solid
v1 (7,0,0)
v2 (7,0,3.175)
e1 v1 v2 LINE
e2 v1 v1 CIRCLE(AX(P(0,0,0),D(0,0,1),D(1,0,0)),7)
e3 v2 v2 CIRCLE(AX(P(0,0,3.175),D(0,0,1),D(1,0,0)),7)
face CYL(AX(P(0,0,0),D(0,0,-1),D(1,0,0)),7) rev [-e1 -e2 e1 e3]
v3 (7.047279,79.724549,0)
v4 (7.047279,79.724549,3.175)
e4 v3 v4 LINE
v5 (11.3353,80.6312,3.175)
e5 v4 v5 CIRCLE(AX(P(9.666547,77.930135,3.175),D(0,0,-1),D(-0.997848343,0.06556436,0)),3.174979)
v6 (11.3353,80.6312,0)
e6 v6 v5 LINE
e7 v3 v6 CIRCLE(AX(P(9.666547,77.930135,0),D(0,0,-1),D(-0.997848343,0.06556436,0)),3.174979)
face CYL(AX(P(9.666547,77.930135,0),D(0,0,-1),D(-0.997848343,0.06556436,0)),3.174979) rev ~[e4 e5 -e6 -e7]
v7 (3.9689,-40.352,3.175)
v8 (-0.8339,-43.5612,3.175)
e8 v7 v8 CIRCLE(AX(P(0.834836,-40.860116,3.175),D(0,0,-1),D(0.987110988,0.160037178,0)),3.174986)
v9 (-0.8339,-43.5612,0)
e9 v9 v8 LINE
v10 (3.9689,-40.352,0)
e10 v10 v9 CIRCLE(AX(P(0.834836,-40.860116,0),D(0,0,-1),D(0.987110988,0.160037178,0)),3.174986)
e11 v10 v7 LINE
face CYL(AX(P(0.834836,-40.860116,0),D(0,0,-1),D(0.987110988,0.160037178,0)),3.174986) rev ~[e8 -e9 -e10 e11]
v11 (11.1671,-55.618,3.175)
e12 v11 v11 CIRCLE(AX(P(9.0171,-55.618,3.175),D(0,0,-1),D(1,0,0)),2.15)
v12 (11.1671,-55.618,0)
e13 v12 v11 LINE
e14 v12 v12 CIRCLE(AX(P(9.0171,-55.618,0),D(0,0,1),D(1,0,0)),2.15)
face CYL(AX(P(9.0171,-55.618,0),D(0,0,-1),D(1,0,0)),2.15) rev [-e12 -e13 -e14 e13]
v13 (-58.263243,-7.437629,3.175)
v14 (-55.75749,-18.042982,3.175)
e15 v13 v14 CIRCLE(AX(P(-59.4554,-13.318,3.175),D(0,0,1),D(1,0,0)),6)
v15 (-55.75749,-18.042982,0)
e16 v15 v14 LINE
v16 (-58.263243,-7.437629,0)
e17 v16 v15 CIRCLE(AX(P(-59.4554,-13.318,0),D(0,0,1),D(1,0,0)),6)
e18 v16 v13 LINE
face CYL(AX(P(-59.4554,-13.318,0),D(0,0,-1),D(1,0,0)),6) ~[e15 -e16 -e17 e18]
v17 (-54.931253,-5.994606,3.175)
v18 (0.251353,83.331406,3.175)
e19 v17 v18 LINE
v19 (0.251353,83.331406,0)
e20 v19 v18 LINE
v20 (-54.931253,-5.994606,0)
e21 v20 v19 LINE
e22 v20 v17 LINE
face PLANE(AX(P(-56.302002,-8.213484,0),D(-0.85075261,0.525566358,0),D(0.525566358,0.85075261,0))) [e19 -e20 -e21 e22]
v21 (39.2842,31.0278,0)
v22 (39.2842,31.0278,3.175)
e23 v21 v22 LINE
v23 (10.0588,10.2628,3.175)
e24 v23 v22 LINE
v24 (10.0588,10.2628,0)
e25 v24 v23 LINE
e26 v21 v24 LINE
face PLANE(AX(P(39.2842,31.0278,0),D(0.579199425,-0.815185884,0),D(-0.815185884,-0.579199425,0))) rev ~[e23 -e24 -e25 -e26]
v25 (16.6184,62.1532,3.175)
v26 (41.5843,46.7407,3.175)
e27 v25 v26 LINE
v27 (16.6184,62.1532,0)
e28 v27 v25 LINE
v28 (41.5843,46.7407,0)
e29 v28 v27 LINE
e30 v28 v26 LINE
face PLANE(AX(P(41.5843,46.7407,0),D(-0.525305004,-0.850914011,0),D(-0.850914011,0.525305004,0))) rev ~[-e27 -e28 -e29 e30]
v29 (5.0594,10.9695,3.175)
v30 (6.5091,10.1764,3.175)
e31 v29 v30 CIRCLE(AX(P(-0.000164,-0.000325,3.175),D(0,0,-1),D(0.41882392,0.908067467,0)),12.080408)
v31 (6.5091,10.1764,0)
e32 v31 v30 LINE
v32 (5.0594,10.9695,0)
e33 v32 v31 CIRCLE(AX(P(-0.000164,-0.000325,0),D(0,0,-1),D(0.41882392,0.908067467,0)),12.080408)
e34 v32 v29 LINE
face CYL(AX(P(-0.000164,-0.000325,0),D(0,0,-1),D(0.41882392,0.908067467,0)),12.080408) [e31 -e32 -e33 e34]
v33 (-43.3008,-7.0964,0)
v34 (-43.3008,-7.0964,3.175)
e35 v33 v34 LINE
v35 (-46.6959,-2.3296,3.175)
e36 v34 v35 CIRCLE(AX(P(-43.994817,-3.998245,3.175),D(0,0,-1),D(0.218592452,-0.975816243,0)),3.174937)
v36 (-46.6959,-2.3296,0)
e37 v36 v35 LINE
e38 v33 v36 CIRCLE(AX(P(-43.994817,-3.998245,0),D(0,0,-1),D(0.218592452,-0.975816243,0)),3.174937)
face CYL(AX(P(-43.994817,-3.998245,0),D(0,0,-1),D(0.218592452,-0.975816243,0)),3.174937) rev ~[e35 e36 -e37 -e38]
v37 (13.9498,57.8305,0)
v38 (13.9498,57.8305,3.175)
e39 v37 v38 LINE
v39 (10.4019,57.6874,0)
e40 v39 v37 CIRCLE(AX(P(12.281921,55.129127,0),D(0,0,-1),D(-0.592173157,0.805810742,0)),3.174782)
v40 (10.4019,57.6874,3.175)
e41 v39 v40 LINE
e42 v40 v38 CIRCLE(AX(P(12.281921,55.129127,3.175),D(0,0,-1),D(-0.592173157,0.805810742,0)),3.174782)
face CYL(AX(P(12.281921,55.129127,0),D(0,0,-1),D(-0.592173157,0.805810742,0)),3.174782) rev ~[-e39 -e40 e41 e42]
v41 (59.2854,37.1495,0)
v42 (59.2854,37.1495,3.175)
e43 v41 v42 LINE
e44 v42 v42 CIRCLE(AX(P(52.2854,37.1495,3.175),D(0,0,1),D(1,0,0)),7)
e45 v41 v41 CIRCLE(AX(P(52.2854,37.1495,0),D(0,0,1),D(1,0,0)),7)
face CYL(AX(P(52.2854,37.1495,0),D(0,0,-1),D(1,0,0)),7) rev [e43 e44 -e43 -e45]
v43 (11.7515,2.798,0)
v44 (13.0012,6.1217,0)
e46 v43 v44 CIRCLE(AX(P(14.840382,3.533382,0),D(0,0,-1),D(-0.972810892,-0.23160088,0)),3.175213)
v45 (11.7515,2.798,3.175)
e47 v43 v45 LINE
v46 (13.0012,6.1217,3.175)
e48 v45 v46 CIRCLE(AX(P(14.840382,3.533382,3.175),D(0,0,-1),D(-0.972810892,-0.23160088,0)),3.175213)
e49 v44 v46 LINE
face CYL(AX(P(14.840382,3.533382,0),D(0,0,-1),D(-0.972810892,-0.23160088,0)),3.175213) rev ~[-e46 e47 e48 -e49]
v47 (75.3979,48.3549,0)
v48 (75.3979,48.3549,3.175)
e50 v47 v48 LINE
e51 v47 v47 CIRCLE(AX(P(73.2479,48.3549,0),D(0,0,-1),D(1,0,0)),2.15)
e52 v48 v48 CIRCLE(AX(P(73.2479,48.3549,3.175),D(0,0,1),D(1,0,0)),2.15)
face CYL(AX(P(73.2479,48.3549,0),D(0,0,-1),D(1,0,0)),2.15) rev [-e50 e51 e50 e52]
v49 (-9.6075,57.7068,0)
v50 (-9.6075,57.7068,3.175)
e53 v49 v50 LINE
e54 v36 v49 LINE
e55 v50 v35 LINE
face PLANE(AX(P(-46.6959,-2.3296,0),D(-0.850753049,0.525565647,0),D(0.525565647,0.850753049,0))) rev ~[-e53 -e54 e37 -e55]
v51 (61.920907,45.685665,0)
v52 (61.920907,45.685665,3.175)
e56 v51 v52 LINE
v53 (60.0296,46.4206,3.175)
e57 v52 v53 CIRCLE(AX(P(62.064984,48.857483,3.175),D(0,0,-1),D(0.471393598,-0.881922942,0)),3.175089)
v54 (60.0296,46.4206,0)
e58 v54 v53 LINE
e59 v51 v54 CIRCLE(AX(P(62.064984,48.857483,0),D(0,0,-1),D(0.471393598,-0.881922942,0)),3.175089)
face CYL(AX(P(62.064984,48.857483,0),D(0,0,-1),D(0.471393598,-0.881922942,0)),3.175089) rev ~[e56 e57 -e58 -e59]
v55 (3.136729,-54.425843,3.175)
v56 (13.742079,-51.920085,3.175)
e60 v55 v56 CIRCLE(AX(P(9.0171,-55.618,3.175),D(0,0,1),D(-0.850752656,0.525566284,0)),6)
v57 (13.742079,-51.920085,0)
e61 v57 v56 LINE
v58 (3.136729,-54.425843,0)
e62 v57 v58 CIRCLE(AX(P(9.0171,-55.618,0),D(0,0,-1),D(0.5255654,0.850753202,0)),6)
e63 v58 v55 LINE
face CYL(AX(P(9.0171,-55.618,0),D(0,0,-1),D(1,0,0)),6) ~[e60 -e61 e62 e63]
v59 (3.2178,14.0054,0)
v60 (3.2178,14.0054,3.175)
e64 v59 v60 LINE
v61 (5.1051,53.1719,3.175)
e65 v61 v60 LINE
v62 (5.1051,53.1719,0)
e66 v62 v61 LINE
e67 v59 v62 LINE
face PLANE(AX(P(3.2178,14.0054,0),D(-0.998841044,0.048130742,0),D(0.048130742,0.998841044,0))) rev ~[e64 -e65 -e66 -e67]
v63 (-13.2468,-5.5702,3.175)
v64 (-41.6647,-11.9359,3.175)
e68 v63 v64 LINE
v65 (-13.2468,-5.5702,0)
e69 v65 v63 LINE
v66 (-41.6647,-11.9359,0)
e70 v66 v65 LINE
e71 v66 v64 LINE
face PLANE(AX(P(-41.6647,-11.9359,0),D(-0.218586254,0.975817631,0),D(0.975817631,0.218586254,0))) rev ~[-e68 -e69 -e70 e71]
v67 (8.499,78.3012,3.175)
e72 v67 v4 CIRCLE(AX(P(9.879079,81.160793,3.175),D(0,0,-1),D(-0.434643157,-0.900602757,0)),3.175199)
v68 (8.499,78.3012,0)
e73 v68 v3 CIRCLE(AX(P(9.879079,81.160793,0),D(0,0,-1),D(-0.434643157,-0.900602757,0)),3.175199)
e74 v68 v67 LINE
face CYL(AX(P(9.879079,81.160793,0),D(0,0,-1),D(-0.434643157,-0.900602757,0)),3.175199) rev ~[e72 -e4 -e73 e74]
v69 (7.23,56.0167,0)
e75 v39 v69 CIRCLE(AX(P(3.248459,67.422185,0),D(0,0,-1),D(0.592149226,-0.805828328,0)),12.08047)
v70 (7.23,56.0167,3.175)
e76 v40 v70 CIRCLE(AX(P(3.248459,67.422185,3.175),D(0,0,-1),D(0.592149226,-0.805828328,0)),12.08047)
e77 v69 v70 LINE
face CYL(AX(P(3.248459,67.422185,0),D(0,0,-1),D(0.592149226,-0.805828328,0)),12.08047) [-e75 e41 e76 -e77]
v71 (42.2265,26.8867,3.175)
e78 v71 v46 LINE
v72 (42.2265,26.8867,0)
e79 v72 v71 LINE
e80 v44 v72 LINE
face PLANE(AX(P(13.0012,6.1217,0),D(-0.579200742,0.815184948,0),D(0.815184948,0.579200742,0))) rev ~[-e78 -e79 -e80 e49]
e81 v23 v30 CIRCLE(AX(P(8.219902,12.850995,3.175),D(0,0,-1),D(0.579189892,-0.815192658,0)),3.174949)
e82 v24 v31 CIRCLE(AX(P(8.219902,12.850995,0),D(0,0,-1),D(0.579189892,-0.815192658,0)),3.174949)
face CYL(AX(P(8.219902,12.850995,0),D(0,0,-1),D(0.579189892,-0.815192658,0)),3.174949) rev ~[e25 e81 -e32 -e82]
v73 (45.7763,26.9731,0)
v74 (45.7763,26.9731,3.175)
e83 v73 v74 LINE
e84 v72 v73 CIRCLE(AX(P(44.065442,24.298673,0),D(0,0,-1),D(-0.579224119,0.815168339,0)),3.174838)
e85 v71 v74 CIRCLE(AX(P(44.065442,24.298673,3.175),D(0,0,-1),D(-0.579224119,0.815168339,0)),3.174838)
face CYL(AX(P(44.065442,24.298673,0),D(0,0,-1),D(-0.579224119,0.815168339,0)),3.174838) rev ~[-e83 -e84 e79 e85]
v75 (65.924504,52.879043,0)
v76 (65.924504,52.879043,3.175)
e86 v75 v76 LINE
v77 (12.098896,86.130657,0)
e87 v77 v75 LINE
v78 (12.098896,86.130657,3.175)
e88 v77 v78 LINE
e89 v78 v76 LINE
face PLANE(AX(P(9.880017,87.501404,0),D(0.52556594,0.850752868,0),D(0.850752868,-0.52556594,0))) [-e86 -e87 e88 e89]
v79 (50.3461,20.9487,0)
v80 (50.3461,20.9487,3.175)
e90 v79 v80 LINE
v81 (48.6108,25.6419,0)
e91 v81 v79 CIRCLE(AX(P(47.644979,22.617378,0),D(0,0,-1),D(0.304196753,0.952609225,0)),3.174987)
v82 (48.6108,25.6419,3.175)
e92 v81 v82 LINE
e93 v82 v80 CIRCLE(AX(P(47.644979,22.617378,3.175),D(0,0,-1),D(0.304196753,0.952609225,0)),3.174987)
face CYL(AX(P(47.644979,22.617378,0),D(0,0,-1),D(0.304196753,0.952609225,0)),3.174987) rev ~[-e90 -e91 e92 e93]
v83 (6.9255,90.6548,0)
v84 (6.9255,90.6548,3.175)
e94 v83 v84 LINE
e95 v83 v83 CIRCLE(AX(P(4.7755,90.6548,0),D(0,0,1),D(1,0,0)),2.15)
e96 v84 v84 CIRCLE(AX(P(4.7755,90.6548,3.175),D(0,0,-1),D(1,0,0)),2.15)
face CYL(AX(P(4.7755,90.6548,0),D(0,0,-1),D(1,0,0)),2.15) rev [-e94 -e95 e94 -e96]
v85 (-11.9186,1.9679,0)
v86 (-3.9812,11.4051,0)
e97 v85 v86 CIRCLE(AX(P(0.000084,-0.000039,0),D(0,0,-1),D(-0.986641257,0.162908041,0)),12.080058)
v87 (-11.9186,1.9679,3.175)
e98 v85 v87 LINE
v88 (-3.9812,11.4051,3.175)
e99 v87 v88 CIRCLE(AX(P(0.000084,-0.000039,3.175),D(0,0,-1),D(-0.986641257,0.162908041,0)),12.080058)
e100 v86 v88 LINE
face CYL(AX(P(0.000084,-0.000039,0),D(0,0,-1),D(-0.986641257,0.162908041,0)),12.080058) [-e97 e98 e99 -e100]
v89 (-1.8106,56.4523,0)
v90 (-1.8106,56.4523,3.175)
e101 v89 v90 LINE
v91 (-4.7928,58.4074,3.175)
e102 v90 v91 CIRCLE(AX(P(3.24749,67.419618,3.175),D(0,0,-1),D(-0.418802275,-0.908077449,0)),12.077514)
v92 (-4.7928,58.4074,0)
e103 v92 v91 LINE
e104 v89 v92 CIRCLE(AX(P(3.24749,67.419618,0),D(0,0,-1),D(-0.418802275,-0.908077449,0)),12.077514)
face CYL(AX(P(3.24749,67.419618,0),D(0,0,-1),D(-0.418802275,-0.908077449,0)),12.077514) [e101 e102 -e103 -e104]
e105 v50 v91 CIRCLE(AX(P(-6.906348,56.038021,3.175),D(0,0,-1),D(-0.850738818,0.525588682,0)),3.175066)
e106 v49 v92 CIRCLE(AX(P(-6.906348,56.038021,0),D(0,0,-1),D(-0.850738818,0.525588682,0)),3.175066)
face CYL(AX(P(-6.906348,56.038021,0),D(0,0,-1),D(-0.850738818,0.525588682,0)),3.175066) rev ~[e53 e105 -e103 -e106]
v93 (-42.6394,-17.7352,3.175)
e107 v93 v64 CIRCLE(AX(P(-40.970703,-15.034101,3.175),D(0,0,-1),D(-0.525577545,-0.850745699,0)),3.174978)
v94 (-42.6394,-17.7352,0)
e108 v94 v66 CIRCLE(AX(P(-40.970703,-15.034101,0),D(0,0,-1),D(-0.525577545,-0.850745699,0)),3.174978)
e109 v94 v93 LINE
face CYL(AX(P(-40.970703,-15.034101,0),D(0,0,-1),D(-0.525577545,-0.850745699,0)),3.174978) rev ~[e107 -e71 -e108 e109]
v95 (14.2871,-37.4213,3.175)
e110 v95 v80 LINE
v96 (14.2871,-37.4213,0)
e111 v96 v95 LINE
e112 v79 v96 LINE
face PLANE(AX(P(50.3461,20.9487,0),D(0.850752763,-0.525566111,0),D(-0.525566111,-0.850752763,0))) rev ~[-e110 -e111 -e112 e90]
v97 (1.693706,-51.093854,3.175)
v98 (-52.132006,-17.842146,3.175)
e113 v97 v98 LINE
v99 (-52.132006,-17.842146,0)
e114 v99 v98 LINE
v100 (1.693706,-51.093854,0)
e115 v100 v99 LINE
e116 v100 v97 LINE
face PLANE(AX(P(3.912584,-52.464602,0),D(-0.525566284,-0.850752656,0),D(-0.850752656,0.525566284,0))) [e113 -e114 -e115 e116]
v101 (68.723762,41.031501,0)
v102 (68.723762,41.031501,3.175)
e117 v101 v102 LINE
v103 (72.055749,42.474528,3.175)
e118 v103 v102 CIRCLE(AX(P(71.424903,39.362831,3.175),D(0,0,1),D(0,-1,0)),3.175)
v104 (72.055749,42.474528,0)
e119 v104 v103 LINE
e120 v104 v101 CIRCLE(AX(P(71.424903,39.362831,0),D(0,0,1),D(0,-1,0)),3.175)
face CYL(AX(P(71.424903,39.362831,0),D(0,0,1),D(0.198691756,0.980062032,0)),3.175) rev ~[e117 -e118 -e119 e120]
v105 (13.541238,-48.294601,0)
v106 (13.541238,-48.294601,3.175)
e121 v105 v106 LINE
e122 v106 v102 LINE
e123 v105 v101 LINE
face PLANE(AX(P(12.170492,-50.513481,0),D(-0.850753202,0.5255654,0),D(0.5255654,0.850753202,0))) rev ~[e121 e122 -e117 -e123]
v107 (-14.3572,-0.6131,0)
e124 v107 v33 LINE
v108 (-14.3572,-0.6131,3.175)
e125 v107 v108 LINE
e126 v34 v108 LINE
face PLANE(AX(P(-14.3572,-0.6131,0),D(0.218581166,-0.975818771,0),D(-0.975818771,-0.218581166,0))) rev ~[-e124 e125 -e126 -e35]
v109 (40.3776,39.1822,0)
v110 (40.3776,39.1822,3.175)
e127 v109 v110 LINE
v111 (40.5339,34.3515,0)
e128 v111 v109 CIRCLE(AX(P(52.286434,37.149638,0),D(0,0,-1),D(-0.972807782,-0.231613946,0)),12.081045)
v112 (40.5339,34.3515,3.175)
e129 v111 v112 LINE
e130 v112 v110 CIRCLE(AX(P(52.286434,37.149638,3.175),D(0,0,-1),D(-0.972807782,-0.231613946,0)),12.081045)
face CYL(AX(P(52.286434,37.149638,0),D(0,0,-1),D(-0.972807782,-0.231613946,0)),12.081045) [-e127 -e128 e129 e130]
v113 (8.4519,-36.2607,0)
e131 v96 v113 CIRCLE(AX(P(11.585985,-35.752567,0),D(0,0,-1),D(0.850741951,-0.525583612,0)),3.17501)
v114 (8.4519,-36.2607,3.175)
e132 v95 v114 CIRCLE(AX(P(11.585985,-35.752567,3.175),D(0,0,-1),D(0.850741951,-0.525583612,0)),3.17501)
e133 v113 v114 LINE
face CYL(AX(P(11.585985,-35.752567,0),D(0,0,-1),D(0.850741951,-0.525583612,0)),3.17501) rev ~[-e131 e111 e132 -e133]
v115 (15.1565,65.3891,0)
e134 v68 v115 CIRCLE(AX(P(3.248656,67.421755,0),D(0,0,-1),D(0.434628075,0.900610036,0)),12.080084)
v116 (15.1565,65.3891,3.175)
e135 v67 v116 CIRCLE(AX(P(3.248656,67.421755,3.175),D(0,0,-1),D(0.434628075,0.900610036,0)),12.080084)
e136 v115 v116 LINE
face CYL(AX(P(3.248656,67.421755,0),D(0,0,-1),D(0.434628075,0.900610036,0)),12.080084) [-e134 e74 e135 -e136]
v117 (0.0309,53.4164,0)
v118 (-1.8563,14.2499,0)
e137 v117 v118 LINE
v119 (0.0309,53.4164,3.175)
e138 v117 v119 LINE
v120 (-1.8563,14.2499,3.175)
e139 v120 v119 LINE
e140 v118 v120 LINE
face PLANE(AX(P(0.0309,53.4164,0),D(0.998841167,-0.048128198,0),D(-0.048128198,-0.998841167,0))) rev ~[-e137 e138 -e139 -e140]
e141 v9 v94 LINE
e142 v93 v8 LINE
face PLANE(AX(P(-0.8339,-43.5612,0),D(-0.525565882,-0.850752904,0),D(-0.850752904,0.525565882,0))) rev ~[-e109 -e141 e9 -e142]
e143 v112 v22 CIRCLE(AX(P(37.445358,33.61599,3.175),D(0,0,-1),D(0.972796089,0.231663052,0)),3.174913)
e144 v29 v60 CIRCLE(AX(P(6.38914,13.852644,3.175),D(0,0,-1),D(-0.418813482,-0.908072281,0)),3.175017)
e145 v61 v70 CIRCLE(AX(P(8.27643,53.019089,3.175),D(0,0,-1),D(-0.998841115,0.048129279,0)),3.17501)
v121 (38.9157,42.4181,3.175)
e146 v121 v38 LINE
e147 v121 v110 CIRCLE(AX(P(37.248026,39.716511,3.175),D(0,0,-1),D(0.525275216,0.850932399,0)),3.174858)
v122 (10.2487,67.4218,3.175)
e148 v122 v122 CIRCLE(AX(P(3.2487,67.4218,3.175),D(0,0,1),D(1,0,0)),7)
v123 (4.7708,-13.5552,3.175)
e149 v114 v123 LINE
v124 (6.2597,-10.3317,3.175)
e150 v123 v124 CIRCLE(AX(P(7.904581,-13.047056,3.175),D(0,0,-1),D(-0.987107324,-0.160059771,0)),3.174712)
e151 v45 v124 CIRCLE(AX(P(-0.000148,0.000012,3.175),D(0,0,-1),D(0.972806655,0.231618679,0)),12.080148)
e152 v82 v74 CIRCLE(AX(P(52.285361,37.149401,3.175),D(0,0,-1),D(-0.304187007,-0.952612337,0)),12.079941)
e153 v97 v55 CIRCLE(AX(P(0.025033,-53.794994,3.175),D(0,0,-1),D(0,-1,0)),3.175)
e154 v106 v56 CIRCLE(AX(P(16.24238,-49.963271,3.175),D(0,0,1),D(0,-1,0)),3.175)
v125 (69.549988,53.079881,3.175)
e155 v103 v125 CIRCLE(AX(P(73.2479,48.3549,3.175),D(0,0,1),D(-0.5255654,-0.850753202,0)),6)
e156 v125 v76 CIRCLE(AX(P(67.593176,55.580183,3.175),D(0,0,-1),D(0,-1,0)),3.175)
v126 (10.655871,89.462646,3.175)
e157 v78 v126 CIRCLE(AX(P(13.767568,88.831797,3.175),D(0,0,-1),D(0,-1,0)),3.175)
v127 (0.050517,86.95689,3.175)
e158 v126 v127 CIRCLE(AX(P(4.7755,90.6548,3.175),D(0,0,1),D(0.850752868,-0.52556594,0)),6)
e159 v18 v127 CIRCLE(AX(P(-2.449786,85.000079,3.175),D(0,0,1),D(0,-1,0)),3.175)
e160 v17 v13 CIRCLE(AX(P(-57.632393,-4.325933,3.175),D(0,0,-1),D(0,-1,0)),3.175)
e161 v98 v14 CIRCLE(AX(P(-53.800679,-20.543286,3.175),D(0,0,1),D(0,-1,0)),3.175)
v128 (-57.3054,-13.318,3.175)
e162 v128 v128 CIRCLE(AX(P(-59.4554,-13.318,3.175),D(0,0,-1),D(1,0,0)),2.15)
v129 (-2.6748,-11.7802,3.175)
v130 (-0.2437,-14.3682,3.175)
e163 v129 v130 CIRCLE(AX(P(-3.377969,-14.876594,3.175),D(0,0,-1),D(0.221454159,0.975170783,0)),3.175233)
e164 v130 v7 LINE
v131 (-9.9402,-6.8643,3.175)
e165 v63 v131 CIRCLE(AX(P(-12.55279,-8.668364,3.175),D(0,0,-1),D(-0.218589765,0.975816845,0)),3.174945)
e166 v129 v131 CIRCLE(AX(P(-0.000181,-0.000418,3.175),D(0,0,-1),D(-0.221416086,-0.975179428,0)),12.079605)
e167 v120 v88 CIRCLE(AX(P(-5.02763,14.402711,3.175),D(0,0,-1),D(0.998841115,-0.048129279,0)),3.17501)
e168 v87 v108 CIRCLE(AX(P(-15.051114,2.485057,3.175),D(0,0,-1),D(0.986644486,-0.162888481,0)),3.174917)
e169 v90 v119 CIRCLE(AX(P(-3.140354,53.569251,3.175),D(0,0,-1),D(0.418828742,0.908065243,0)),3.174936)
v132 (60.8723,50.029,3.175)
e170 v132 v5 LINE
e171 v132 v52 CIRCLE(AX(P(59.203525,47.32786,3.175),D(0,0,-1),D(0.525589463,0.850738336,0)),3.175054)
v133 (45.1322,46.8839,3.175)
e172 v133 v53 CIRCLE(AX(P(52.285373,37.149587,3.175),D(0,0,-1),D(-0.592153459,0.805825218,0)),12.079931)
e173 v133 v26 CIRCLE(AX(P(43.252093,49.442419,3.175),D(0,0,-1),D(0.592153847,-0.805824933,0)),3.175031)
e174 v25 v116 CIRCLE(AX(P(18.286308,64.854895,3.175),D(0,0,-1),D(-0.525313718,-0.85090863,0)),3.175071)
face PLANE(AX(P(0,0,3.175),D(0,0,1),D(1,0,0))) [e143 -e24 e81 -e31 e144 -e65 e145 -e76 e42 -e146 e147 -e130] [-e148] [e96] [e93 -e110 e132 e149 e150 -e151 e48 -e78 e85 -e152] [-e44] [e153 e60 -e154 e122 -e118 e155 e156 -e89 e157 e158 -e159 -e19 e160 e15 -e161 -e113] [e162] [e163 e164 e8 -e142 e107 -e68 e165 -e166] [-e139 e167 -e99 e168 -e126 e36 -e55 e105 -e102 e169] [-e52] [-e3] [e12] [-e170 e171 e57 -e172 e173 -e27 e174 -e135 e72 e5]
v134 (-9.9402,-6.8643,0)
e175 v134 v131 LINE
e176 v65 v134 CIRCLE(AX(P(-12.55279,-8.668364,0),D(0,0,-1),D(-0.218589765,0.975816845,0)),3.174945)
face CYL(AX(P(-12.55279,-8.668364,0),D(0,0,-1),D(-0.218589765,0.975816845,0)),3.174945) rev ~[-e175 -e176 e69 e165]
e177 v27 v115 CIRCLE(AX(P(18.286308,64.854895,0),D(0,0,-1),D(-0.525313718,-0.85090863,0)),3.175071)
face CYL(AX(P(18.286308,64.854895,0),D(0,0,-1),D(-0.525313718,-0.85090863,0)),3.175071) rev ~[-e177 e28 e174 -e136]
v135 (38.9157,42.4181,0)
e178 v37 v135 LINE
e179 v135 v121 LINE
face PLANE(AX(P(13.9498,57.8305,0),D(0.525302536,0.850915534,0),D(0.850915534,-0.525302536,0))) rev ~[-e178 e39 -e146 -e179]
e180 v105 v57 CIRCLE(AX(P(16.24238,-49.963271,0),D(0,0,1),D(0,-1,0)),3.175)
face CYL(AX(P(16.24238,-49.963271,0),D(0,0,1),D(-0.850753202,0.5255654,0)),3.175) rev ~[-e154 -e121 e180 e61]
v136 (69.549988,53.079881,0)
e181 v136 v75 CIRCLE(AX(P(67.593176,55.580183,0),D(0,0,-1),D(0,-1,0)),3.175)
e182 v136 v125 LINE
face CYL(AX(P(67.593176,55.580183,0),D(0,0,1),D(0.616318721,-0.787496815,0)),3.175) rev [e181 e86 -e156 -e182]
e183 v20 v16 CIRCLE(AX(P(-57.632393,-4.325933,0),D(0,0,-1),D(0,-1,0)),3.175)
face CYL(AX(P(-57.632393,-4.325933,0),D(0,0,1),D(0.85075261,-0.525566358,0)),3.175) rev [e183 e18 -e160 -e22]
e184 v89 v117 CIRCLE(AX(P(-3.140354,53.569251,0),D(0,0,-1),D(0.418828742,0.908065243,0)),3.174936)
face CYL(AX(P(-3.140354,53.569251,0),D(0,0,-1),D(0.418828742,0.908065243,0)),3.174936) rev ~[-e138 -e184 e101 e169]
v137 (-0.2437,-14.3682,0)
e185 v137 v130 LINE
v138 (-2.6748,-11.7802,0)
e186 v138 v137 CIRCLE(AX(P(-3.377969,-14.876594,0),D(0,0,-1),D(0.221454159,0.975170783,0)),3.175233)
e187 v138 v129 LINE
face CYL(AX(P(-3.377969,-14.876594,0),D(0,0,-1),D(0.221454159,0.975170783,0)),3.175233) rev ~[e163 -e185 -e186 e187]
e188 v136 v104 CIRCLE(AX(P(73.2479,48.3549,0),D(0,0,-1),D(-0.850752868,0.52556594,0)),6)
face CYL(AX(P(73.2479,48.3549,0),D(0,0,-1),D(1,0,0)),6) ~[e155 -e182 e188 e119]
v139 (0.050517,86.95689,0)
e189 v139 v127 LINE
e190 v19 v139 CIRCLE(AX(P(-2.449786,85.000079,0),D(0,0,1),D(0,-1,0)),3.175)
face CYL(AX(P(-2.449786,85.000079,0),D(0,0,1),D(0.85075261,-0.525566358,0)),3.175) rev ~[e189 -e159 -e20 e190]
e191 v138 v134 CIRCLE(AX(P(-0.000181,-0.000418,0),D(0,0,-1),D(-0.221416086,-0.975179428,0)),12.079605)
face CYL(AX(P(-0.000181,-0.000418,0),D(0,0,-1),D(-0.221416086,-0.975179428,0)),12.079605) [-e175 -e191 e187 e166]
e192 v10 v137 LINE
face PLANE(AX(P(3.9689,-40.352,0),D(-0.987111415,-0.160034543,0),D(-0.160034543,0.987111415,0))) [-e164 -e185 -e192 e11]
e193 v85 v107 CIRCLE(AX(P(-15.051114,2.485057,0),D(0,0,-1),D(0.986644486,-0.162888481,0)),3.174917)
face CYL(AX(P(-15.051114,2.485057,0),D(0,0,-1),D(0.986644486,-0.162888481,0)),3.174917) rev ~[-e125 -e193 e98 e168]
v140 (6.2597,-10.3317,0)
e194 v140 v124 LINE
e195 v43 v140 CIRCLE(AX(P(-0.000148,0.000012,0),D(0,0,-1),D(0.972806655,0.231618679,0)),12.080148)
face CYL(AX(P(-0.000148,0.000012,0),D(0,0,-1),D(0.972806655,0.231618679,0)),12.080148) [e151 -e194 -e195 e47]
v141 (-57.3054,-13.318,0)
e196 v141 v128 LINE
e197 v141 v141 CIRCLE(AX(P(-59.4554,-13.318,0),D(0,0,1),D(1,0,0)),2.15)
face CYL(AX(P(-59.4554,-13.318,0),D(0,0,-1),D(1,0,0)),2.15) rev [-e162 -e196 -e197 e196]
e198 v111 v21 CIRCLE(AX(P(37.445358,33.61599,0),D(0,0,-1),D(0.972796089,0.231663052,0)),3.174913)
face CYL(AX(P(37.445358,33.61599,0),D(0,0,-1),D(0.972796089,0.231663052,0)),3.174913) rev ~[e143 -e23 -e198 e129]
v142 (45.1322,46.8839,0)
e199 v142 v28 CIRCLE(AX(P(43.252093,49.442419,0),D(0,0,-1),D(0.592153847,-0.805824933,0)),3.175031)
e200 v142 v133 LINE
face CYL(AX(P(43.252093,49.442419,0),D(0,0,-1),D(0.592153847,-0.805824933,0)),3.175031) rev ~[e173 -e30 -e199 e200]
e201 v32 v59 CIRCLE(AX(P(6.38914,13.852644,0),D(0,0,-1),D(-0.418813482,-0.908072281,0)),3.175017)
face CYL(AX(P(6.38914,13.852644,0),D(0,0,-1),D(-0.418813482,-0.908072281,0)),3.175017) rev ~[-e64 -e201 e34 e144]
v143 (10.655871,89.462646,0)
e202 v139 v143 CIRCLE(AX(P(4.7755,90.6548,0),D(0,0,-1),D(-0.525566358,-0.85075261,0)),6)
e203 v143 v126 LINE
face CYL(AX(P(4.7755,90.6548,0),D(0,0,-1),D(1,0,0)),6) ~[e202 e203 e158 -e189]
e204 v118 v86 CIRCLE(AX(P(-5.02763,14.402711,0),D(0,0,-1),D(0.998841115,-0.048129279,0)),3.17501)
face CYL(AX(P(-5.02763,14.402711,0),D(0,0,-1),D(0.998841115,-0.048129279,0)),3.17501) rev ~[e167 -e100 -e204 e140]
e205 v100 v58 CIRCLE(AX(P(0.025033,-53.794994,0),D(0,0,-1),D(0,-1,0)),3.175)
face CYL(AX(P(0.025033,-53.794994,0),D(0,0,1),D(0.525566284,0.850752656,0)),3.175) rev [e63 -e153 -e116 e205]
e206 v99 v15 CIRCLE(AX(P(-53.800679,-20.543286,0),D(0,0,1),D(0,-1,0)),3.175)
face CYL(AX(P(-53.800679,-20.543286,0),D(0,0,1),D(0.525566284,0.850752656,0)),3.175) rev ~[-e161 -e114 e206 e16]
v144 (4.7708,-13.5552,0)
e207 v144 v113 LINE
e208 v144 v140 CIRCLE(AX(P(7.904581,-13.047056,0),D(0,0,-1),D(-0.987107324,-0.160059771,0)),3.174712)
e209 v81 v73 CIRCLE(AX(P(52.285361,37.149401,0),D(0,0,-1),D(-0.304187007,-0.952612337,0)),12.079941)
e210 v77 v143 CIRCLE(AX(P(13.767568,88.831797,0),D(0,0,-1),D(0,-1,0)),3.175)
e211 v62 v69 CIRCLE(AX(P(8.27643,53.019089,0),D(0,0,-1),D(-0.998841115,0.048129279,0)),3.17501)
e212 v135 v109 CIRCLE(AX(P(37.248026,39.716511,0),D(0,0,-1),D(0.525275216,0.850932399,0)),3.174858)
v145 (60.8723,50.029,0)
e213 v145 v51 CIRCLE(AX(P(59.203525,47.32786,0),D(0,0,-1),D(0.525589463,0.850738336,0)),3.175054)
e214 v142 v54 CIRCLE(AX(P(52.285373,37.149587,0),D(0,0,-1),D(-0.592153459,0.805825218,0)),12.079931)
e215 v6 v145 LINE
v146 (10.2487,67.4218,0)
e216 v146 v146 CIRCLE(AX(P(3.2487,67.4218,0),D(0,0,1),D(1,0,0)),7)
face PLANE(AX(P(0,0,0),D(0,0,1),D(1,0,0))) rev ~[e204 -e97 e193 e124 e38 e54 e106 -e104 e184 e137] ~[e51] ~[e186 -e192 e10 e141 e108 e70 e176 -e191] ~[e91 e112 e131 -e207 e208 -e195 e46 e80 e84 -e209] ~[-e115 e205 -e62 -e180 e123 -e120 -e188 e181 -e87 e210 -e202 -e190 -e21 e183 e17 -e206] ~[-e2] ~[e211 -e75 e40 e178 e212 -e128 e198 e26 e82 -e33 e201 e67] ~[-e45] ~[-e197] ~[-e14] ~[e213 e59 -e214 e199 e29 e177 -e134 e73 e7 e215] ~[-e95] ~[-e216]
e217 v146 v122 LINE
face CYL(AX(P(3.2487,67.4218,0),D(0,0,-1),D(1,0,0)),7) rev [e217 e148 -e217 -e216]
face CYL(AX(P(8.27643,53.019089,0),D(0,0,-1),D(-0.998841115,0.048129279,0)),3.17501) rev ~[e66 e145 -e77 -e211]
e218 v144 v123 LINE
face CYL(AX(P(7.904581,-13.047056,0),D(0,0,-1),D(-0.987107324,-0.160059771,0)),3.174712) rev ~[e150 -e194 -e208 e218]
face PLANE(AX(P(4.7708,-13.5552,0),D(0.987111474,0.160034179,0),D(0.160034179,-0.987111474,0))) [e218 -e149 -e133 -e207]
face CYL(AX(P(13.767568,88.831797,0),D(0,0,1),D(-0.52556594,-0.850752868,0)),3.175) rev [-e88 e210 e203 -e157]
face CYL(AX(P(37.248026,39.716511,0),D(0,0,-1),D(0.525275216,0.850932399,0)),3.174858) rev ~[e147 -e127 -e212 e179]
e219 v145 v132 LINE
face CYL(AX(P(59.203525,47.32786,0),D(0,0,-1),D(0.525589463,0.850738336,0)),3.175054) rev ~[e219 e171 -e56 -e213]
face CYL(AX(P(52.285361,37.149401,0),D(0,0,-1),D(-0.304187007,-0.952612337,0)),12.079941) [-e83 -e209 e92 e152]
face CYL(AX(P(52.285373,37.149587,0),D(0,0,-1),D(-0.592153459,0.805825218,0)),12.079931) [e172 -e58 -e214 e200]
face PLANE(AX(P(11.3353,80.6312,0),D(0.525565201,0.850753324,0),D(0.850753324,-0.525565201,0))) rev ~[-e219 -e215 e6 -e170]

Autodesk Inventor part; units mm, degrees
ref_plane "YZ Plane" through (0, 0, 0) normal (1, 0, 0) x (0, 1, 0)
ref_plane "XZ Plane" through (0, 0, 0) normal (0, 1, 0) x (-1, 0, 0)
ref_plane "XY Plane" through (0, 0, 0) normal (0, 0, 1) x (1, 0, 0)
sketch "Sketch1" plane through (0, 0, 0) normal (0, 0, 1) x (1, 0, 0)
  circle A0 centre (0, 0) radius 7 projected
  circle A1 centre (52.2854, 37.1495) radius 7 projected
  circle A2 centre (3.2487, 67.4218) radius 7 projected
  circle A3 centre (73.2479, 48.3549) radius 2.15
  circle A4 centre (73.9366, 30.5749) radius 3.15 construction
  circle A5 centre (58.8599, 58.8007) radius 3.15 construction
  circle A6 centre (4.7755, 90.6548) radius 2.15
  circle A7 centre (-59.4554, -13.318) radius 2.15
  circle A8 centre (9.0171, -55.618) radius 2.15
  circle A9 centre (38.0853, -27.4589) radius 3.15 construction
  circle A10 centre (-27.4589, -38.0853) radius 3.5 construction
  line L0 (38.0853, -27.4589) -> (9.0171, -55.618) construction
  line L1 (9.0171, -55.618) -> (-27.4589, -38.0853) construction
  line L2 (9.0171, -55.618) -> (73.2479, 48.3549)
  line L3 (92.2333, 46.5881) -> (17.5545, -74.2973) construction
  line L4 (-27.4589, -38.0853) -> (-59.4554, -13.318) construction
  line L5 (-59.4554, -13.318) -> (-42.6755, 23.5008) construction
  line L6 (-59.4554, -13.318) -> (4.7755, 90.6548)
  line L7 (4.7755, 90.6548) -> (73.2479, 48.3549)
  line L8 (9.0171, -55.618) -> (-59.4554, -13.318)
  circle A11 centre (9.0171, -55.618) radius 6
  circle A12 centre (-59.4554, -13.318) radius 6
  circle A13 centre (4.7755, 90.6548) radius 6
  circle A14 centre (73.2479, 48.3549) radius 6
  point P0 (0, 0)
  point P1 (3.9125, -52.4646)
  point P2 (12.1704, -50.5134)
  point P3 (70.0945, 43.2504)
  point P4 (68.1434, 51.5083)
  point P5 (9.88, 87.5015)
  point P6 (1.6221, 85.5503)
  point P7 (-56.302, -8.2135)
  point P8 (-54.3509, -16.4714)
  point P9 (71.4188, 49.4849)
  point P10 (72.118, 46.5258)
  point P11 (3.6455, 88.8257)
  point P12 (6.6046, 89.5249)
  point P13 (-57.6263, -14.448)
  point P14 (-58.3254, -11.4889)
  point P15 (10.147, -53.7888)
  point P16 (7.1879, -54.488)
  dimension "d0" = 4.3
  dimension "d1" = 17.78
  dimension "d2" = 17.78
  dimension "d3" = 4.3
  dimension "d4" = 4.3
  dimension "d5" = 4.3
  dimension "d6" = 40.4622
  dimension "d7" = 12
  dimension "d8" = 12
  dimension "d9" = 12
  dimension "d10" = 12
extrude "Extrusion1" add sketch "Sketch1" along normal blind 3.175 contours A3 L7 A14 L2 | A3 L2 A14 L7 | A14 L2 A11 L8 A12 L6 A13 L7 | A13 L6 A6 L7 | L7 A6 L6 A13 | A11 L8 A8 L2 | L2 A8 L8 A11 | A12 L8 A7 L6 | L6 A7 L8 A12
fillet "Fillet1" radius 3.175 8 edges at (3.9125, -52.4646, 1.5875) (-54.3509, -16.4714, 1.5875) (-56.302, -8.2135, 1.5875) (1.6221, 85.5503, 1.5875) (9.88, 87.5015, 1.5875) (68.1434, 51.5083, 1.5875) (70.0945, 43.2504, 1.5875) (12.1704, -50.5134, 1.5875)
sketch "Sketch2" plane through (0, 0, 0) normal (0, 0, -1) x (-1, 0, 0)
  arc A0 (-13.742, -51.92) -> (-13.5412, -48.2946) centre (-16.2423, -49.9632) ccw projected
  line L0 (-13.5412, -48.2946) -> (-68.7238, 41.0315) projected
  arc A1 (-68.7238, 41.0315) -> (-72.0558, 42.4746) centre (-71.4249, 39.3629) ccw projected
  arc A2 (-69.55, 53.0799) -> (-72.0558, 42.4746) centre (-73.2479, 48.3549) ccw projected
  arc A3 (-69.55, 53.0799) -> (-65.9245, 52.8791) centre (-67.5932, 55.5802) ccw projected
  line L1 (-65.9245, 52.8791) -> (-12.0989, 86.1307) projected
  arc A4 (-12.0989, 86.1307) -> (-10.6559, 89.4627) centre (-13.7676, 88.8318) ccw projected
  arc A5 (-0.0505, 86.9569) -> (-10.6559, 89.4627) centre (-4.7755, 90.6548) ccw projected
  arc A6 (-0.0505, 86.9569) -> (-0.2513, 83.3315) centre (2.4498, 85.0001) ccw projected
  line L2 (-0.2513, 83.3315) -> (54.9312, -5.9946) projected
  arc A7 (54.9312, -5.9946) -> (58.2632, -7.4377) centre (57.6324, -4.326) ccw projected
  arc A8 (55.7575, -18.043) -> (58.2632, -7.4377) centre (59.4554, -13.318) ccw projected
  arc A9 (55.7575, -18.043) -> (52.132, -17.8422) centre (53.8007, -20.5433) ccw projected
  line L3 (52.132, -17.8422) -> (-1.6937, -51.0938) projected
  arc A10 (-1.6937, -51.0938) -> (-3.1367, -54.4258) centre (-0.025, -53.795) ccw projected
  arc A11 (-13.742, -51.92) -> (-3.1367, -54.4258) centre (-9.0171, -55.618) ccw projected
  circle A12 centre (-73.2479, 48.3549) radius 2.15 projected
  circle A13 centre (0, 0) radius 7 projected
  circle A14 centre (-52.2854, 37.1495) radius 7 projected
  circle A15 centre (-3.2487, 67.4218) radius 7 projected
  circle A16 centre (-4.7755, 90.6548) radius 2.15 projected
  circle A17 centre (59.4554, -13.318) radius 2.15 projected
  circle A18 centre (-9.0171, -55.618) radius 2.15 projected
  line L4 (-50.3461, 20.9487) -> (-14.2871, -37.4213)
  arc A19 (-9.7416, -55.0509) -> (-9.2194, -45.6247) centre (-16.2423, -49.9632) ccw
  arc A20 (-9.7416, -55.0509) -> (-8.1154, -55.4352) centre (-9.0171, -55.618) ccw
  arc A21 (-4.3635, -46.772) -> (-8.1154, -55.4352) centre (-0.025, -53.795) ccw
  line L5 (0.8339, -43.5612) -> (42.6394, -17.7352)
  arc A22 (58.8884, -14.0425) -> (49.4621, -13.5204) centre (53.8007, -20.5433) ccw
  arc A23 (58.8884, -14.0425) -> (59.2726, -12.4164) centre (59.4554, -13.318) ccw
  arc A24 (50.6094, -8.6645) -> (59.2726, -12.4164) centre (57.6324, -4.326) ccw
  line L6 (46.6959, -2.3296) -> (9.6075, 57.7068)
  arc A25 (-4.051, 90.0878) -> (-4.5732, 80.6616) centre (2.4498, 85.0001) ccw
  arc A26 (-4.051, 90.0878) -> (-5.6771, 90.4721) centre (-4.7755, 90.6548) ccw
  arc A27 (-9.429, 81.8089) -> (-5.6771, 90.4721) centre (-13.7676, 88.8318) ccw
  line L7 (-11.3353, 80.6312) -> (-60.8723, 50.029)
  arc A28 (-72.6809, 49.0794) -> (-63.2547, 48.5572) centre (-67.5932, 55.5802) ccw
  arc A29 (-72.6809, 49.0794) -> (-73.0651, 47.4533) centre (-73.2479, 48.3549) ccw
  arc A30 (-64.402, 43.7014) -> (-73.0651, 47.4533) centre (-71.4249, 39.3629) ccw
  line L8 (-9.0171, -55.618) -> (0, 0) construction
  line L9 (0, 0) -> (59.4554, -13.318) construction
  line L10 (0, 0) -> (-3.2487, 67.4218) construction
  line L11 (-3.2487, 67.4218) -> (-4.7755, 90.6548) construction
  line L12 (0, 0) -> (-52.2854, 37.1495) construction
  line L13 (-52.2854, 37.1495) -> (-73.2479, 48.3549) construction
  line L14 (-52.2854, 37.1495) -> (-3.2487, 67.4218) construction
  line L15 (-4.7708, -13.5552) -> (-8.4519, -36.2607)
  line L16 (-11.5243, -55.2115) -> (-6.5098, -56.0245) construction
  line L17 (-3.9689, -40.352) -> (0.2437, -14.3682)
  line L18 (2.5073, -0.4065) -> (-2.5073, 0.4065) construction
  line L19 (-2.5073, 0.4065) -> (-6.5098, -56.0245) construction
  line L20 (-11.5243, -55.2115) -> (2.5073, -0.4065) construction
  line L21 (-39.2842, 31.0278) -> (-10.0588, 10.2628)
  line L22 (1.4712, 2.0706) -> (-1.4712, -2.0706) construction
  line L23 (-13.0012, 6.1217) -> (-42.2265, 26.8867)
  line L24 (-53.7566, 35.0789) -> (-50.8142, 39.2201) construction
  line L25 (-50.8142, 39.2201) -> (-1.4712, -2.0706) construction
  line L26 (1.4712, 2.0706) -> (-53.7566, 35.0789) construction
  line L27 (14.3572, -0.6131) -> (43.3008, -7.0964)
  line L28 (60.0106, -10.8395) -> (58.9002, -15.7966) construction
  line L29 (41.6647, -11.9359) -> (13.2468, -5.5702)
  line L30 (-0.5552, -2.4786) -> (0.5552, 2.4786) construction
  line L31 (0.5552, 2.4786) -> (58.9002, -15.7966) construction
  line L32 (60.0106, -10.8395) -> (-0.5552, -2.4786) construction
  line L33 (-3.2178, 14.0054) -> (-5.1051, 53.1719)
  line L34 (-5.7858, 67.2995) -> (-0.7117, 67.544) construction
  line L35 (-0.0309, 53.4164) -> (1.8563, 14.2499)
  line L36 (2.5371, 0.1222) -> (-2.5371, -0.1222) construction
  line L37 (-2.5371, -0.1222) -> (-0.7117, 67.544) construction
  line L38 (-5.7858, 67.2995) -> (2.5371, 0.1222) construction
  line L39 (-13.9498, 57.8305) -> (-38.9157, 42.4181)
  line L40 (-50.9511, 34.9882) -> (-53.6197, 39.3108) construction
  line L41 (-41.5843, 46.7407) -> (-16.6184, 62.1532)
  line L42 (-4.583, 69.5831) -> (-1.9145, 65.2604) construction
  line L43 (-1.9145, 65.2604) -> (-53.6197, 39.3108) construction
  line L44 (-50.9511, 34.9882) -> (-4.583, 69.5831) construction
  line L45 (-63.5617, 46.0573) -> (-60.7004, 44.5278)
  line L46 (-72.0505, 50.595) -> (-74.4453, 46.1149) construction
  line L47 (-74.4453, 46.1149) -> (-53.4828, 34.9094)
  line L48 (-53.4828, 34.9094) -> (-51.088, 39.3895) construction
  line L49 (-51.088, 39.3895) -> (-74.4453, 46.1149) construction
  line L50 (-72.0505, 50.595) -> (-53.4828, 34.9094) construction
  line L51 (-2.241, 90.8214) -> (-0.7142, 67.5883) construction
  line L52 (-0.7142, 67.5883) -> (-5.7833, 67.2552) construction
  line L53 (-6.7107, 81.3688) -> (-6.4984, 78.1383) construction
  line L54 (-7.31, 90.4883) -> (-2.241, 90.8214) construction
  line L55 (-2.241, 90.8214) -> (-5.7833, 67.2552) construction
  line L56 (-0.7142, 67.5883) -> (-7.31, 90.4883) construction
  arc A31 (-3.9689, -40.352) -> (0.8339, -43.5612) centre (-0.8348, -40.8601) ccw
  arc A32 (-14.2871, -37.4213) -> (-8.4519, -36.2607) centre (-11.586, -35.7526) ccw
  arc A33 (42.6394, -17.7352) -> (41.6647, -11.9359) centre (40.9707, -15.0341) ccw
  arc A34 (43.3008, -7.0964) -> (46.6959, -2.3296) centre (43.9948, -3.9982) ccw
  arc A35 (-5.1051, 53.1719) -> (-7.23, 56.0167) centre (-8.2764, 53.0191) ccw
  arc A36 (-8.499, 78.3012) -> (-6.7107, 81.3688) centre (-9.8789, 81.1606) ccw
  arc A37 (-8.499, 78.3012) -> (-15.1565, 65.3891) centre (-3.2487, 67.4218) ccw
  arc A38 (-10.4019, 57.6874) -> (-7.23, 56.0167) centre (-3.2487, 67.4218) ccw
  arc A39 (-10.4019, 57.6874) -> (-13.9498, 57.8305) centre (-12.282, 55.1289) ccw
  arc A40 (-16.6184, 62.1532) -> (-15.1565, 65.3891) centre (-18.2862, 64.8548) ccw
  arc A41 (-6.4984, 78.1383) -> (-11.3353, 80.6312) centre (-9.6666, 77.9301) ccw
  arc A42 (-40.5339, 34.3515) -> (-40.3776, 39.1822) centre (-52.2854, 37.1495) ccw
  arc A43 (-42.2265, 26.8867) -> (-45.7763, 26.9731) centre (-44.0655, 24.2985) ccw
  arc A44 (-45.1322, 46.8839) -> (-60.0296, 46.4206) centre (-52.2854, 37.1495) ccw
  arc A45 (-48.6108, 25.6419) -> (-45.7763, 26.9731) centre (-52.2854, 37.1495) ccw
  arc A46 (-48.6108, 25.6419) -> (-50.3461, 20.9487) centre (-47.645, 22.6174) ccw
  arc A47 (-45.1322, 46.8839) -> (-41.5843, 46.7407) centre (-43.2521, 49.4424) ccw
  arc A48 (-63.5617, 46.0573) -> (-60.0296, 46.4206) centre (-62.065, 48.8574) ccw
  arc A49 (-60.8723, 50.029) -> (-60.7004, 44.5278) centre (-59.2036, 47.3279) ccw
  arc A50 (-40.5339, 34.3515) -> (-39.2842, 31.0278) centre (-37.4452, 33.616) ccw
  arc A51 (-38.9157, 42.4181) -> (-40.3776, 39.1822) centre (-37.2479, 39.7164) ccw
  arc A52 (-5.0594, 10.9695) -> (-6.5091, 10.1764) centre (0, 0) ccw
  arc A53 (-11.7515, 2.798) -> (-6.2597, -10.3317) centre (0, 0) ccw
  arc A54 (2.6748, -11.7802) -> (9.9402, -6.8643) centre (0, 0) ccw
  arc A55 (11.9186, 1.9679) -> (3.9812, 11.4051) centre (0, 0) ccw
  arc A56 (-5.0594, 10.9695) -> (-3.2178, 14.0054) centre (-6.3891, 13.8526) ccw
  arc A57 (-10.0588, 10.2628) -> (-6.5091, 10.1764) centre (-8.2199, 12.851) ccw
  arc A58 (-11.7515, 2.798) -> (-13.0012, 6.1217) centre (-14.8401, 3.5334) ccw
  arc A59 (-4.7708, -13.5552) -> (-6.2597, -10.3317) centre (-7.9049, -13.0471) ccw
  arc A60 (2.6748, -11.7802) -> (0.2437, -14.3682) centre (3.3778, -14.8763) ccw
  arc A61 (13.2468, -5.5702) -> (9.9402, -6.8643) centre (12.5528, -8.6685) ccw
  arc A62 (11.9186, 1.9679) -> (14.3572, -0.6131) centre (15.0512, 2.4851) ccw
  arc A63 (1.8563, 14.2499) -> (3.9812, 11.4051) centre (5.0276, 14.4027) ccw
  arc A64 (1.8106, 56.4523) -> (4.7928, 58.4074) centre (-3.2487, 67.4218) ccw
  arc A65 (1.8106, 56.4523) -> (-0.0309, 53.4164) centre (3.1404, 53.5692) ccw
  arc A66 (9.6075, 57.7068) -> (4.7928, 58.4074) centre (6.9064, 56.0381) ccw
  point P0 (0, 0)
  point P1 (-4.5085, -27.809)
  point P2 (-26.1427, 18.5747)
  point P3 (29.7277, -6.659)
  point P4 (-1.6244, 33.7109)
  point P5 (-27.7671, 52.2856)
  point P6 (-62.7667, 42.7522)
  point P7 (-4.0121, 79.0383)
  point P8 (7.2726, 61.4864)
  point P9 (-52.9015, 25.0852)
  point P10 (-61.9209, 45.6857)
  point P11 (-7.0473, 79.7245)
  dimension "d14" = 5.08
  dimension "d15" = 5.08
  dimension "d16" = 5.08
  dimension "d17" = 5.08
  dimension "d18" = 5.08
  dimension "d19" = 5.08
  dimension "d20" = 5.08
  dimension "d21" = 5.08
  dimension "d22" = 3.175
  dimension "d25" = 3.175
  dimension "d26" = 3.175
  dimension "d27" = 3.175
  dimension "d29" = 3.175
  dimension "d30" = 3.175
  dimension "d31" = 3.175
  dimension "d32" = 3.175
  dimension "d34" = 3.175
  dimension "d35" = 5.08
  dimension "d36" = 3.175
  dimension "d37" = 3.175
extrude "Extrusion2" cut sketch "Sketch2" against normal blind 25.4 contours A46 A45 A43 L23 A58 A53 A59 L15 A32 L4 | A31 L17 A60 A54 A61 L29 A33 L5 | A34 L27 A62 A55 A63 L35 A65 A64 A66 L6 | A41 A36 A37 A40 L41 A47 A44 A48 A49 L7 | A50 A42 A51 L39 A39 A38 A35 L33 A56 A52 A57 L21
properties part number "Upper_Plate"
